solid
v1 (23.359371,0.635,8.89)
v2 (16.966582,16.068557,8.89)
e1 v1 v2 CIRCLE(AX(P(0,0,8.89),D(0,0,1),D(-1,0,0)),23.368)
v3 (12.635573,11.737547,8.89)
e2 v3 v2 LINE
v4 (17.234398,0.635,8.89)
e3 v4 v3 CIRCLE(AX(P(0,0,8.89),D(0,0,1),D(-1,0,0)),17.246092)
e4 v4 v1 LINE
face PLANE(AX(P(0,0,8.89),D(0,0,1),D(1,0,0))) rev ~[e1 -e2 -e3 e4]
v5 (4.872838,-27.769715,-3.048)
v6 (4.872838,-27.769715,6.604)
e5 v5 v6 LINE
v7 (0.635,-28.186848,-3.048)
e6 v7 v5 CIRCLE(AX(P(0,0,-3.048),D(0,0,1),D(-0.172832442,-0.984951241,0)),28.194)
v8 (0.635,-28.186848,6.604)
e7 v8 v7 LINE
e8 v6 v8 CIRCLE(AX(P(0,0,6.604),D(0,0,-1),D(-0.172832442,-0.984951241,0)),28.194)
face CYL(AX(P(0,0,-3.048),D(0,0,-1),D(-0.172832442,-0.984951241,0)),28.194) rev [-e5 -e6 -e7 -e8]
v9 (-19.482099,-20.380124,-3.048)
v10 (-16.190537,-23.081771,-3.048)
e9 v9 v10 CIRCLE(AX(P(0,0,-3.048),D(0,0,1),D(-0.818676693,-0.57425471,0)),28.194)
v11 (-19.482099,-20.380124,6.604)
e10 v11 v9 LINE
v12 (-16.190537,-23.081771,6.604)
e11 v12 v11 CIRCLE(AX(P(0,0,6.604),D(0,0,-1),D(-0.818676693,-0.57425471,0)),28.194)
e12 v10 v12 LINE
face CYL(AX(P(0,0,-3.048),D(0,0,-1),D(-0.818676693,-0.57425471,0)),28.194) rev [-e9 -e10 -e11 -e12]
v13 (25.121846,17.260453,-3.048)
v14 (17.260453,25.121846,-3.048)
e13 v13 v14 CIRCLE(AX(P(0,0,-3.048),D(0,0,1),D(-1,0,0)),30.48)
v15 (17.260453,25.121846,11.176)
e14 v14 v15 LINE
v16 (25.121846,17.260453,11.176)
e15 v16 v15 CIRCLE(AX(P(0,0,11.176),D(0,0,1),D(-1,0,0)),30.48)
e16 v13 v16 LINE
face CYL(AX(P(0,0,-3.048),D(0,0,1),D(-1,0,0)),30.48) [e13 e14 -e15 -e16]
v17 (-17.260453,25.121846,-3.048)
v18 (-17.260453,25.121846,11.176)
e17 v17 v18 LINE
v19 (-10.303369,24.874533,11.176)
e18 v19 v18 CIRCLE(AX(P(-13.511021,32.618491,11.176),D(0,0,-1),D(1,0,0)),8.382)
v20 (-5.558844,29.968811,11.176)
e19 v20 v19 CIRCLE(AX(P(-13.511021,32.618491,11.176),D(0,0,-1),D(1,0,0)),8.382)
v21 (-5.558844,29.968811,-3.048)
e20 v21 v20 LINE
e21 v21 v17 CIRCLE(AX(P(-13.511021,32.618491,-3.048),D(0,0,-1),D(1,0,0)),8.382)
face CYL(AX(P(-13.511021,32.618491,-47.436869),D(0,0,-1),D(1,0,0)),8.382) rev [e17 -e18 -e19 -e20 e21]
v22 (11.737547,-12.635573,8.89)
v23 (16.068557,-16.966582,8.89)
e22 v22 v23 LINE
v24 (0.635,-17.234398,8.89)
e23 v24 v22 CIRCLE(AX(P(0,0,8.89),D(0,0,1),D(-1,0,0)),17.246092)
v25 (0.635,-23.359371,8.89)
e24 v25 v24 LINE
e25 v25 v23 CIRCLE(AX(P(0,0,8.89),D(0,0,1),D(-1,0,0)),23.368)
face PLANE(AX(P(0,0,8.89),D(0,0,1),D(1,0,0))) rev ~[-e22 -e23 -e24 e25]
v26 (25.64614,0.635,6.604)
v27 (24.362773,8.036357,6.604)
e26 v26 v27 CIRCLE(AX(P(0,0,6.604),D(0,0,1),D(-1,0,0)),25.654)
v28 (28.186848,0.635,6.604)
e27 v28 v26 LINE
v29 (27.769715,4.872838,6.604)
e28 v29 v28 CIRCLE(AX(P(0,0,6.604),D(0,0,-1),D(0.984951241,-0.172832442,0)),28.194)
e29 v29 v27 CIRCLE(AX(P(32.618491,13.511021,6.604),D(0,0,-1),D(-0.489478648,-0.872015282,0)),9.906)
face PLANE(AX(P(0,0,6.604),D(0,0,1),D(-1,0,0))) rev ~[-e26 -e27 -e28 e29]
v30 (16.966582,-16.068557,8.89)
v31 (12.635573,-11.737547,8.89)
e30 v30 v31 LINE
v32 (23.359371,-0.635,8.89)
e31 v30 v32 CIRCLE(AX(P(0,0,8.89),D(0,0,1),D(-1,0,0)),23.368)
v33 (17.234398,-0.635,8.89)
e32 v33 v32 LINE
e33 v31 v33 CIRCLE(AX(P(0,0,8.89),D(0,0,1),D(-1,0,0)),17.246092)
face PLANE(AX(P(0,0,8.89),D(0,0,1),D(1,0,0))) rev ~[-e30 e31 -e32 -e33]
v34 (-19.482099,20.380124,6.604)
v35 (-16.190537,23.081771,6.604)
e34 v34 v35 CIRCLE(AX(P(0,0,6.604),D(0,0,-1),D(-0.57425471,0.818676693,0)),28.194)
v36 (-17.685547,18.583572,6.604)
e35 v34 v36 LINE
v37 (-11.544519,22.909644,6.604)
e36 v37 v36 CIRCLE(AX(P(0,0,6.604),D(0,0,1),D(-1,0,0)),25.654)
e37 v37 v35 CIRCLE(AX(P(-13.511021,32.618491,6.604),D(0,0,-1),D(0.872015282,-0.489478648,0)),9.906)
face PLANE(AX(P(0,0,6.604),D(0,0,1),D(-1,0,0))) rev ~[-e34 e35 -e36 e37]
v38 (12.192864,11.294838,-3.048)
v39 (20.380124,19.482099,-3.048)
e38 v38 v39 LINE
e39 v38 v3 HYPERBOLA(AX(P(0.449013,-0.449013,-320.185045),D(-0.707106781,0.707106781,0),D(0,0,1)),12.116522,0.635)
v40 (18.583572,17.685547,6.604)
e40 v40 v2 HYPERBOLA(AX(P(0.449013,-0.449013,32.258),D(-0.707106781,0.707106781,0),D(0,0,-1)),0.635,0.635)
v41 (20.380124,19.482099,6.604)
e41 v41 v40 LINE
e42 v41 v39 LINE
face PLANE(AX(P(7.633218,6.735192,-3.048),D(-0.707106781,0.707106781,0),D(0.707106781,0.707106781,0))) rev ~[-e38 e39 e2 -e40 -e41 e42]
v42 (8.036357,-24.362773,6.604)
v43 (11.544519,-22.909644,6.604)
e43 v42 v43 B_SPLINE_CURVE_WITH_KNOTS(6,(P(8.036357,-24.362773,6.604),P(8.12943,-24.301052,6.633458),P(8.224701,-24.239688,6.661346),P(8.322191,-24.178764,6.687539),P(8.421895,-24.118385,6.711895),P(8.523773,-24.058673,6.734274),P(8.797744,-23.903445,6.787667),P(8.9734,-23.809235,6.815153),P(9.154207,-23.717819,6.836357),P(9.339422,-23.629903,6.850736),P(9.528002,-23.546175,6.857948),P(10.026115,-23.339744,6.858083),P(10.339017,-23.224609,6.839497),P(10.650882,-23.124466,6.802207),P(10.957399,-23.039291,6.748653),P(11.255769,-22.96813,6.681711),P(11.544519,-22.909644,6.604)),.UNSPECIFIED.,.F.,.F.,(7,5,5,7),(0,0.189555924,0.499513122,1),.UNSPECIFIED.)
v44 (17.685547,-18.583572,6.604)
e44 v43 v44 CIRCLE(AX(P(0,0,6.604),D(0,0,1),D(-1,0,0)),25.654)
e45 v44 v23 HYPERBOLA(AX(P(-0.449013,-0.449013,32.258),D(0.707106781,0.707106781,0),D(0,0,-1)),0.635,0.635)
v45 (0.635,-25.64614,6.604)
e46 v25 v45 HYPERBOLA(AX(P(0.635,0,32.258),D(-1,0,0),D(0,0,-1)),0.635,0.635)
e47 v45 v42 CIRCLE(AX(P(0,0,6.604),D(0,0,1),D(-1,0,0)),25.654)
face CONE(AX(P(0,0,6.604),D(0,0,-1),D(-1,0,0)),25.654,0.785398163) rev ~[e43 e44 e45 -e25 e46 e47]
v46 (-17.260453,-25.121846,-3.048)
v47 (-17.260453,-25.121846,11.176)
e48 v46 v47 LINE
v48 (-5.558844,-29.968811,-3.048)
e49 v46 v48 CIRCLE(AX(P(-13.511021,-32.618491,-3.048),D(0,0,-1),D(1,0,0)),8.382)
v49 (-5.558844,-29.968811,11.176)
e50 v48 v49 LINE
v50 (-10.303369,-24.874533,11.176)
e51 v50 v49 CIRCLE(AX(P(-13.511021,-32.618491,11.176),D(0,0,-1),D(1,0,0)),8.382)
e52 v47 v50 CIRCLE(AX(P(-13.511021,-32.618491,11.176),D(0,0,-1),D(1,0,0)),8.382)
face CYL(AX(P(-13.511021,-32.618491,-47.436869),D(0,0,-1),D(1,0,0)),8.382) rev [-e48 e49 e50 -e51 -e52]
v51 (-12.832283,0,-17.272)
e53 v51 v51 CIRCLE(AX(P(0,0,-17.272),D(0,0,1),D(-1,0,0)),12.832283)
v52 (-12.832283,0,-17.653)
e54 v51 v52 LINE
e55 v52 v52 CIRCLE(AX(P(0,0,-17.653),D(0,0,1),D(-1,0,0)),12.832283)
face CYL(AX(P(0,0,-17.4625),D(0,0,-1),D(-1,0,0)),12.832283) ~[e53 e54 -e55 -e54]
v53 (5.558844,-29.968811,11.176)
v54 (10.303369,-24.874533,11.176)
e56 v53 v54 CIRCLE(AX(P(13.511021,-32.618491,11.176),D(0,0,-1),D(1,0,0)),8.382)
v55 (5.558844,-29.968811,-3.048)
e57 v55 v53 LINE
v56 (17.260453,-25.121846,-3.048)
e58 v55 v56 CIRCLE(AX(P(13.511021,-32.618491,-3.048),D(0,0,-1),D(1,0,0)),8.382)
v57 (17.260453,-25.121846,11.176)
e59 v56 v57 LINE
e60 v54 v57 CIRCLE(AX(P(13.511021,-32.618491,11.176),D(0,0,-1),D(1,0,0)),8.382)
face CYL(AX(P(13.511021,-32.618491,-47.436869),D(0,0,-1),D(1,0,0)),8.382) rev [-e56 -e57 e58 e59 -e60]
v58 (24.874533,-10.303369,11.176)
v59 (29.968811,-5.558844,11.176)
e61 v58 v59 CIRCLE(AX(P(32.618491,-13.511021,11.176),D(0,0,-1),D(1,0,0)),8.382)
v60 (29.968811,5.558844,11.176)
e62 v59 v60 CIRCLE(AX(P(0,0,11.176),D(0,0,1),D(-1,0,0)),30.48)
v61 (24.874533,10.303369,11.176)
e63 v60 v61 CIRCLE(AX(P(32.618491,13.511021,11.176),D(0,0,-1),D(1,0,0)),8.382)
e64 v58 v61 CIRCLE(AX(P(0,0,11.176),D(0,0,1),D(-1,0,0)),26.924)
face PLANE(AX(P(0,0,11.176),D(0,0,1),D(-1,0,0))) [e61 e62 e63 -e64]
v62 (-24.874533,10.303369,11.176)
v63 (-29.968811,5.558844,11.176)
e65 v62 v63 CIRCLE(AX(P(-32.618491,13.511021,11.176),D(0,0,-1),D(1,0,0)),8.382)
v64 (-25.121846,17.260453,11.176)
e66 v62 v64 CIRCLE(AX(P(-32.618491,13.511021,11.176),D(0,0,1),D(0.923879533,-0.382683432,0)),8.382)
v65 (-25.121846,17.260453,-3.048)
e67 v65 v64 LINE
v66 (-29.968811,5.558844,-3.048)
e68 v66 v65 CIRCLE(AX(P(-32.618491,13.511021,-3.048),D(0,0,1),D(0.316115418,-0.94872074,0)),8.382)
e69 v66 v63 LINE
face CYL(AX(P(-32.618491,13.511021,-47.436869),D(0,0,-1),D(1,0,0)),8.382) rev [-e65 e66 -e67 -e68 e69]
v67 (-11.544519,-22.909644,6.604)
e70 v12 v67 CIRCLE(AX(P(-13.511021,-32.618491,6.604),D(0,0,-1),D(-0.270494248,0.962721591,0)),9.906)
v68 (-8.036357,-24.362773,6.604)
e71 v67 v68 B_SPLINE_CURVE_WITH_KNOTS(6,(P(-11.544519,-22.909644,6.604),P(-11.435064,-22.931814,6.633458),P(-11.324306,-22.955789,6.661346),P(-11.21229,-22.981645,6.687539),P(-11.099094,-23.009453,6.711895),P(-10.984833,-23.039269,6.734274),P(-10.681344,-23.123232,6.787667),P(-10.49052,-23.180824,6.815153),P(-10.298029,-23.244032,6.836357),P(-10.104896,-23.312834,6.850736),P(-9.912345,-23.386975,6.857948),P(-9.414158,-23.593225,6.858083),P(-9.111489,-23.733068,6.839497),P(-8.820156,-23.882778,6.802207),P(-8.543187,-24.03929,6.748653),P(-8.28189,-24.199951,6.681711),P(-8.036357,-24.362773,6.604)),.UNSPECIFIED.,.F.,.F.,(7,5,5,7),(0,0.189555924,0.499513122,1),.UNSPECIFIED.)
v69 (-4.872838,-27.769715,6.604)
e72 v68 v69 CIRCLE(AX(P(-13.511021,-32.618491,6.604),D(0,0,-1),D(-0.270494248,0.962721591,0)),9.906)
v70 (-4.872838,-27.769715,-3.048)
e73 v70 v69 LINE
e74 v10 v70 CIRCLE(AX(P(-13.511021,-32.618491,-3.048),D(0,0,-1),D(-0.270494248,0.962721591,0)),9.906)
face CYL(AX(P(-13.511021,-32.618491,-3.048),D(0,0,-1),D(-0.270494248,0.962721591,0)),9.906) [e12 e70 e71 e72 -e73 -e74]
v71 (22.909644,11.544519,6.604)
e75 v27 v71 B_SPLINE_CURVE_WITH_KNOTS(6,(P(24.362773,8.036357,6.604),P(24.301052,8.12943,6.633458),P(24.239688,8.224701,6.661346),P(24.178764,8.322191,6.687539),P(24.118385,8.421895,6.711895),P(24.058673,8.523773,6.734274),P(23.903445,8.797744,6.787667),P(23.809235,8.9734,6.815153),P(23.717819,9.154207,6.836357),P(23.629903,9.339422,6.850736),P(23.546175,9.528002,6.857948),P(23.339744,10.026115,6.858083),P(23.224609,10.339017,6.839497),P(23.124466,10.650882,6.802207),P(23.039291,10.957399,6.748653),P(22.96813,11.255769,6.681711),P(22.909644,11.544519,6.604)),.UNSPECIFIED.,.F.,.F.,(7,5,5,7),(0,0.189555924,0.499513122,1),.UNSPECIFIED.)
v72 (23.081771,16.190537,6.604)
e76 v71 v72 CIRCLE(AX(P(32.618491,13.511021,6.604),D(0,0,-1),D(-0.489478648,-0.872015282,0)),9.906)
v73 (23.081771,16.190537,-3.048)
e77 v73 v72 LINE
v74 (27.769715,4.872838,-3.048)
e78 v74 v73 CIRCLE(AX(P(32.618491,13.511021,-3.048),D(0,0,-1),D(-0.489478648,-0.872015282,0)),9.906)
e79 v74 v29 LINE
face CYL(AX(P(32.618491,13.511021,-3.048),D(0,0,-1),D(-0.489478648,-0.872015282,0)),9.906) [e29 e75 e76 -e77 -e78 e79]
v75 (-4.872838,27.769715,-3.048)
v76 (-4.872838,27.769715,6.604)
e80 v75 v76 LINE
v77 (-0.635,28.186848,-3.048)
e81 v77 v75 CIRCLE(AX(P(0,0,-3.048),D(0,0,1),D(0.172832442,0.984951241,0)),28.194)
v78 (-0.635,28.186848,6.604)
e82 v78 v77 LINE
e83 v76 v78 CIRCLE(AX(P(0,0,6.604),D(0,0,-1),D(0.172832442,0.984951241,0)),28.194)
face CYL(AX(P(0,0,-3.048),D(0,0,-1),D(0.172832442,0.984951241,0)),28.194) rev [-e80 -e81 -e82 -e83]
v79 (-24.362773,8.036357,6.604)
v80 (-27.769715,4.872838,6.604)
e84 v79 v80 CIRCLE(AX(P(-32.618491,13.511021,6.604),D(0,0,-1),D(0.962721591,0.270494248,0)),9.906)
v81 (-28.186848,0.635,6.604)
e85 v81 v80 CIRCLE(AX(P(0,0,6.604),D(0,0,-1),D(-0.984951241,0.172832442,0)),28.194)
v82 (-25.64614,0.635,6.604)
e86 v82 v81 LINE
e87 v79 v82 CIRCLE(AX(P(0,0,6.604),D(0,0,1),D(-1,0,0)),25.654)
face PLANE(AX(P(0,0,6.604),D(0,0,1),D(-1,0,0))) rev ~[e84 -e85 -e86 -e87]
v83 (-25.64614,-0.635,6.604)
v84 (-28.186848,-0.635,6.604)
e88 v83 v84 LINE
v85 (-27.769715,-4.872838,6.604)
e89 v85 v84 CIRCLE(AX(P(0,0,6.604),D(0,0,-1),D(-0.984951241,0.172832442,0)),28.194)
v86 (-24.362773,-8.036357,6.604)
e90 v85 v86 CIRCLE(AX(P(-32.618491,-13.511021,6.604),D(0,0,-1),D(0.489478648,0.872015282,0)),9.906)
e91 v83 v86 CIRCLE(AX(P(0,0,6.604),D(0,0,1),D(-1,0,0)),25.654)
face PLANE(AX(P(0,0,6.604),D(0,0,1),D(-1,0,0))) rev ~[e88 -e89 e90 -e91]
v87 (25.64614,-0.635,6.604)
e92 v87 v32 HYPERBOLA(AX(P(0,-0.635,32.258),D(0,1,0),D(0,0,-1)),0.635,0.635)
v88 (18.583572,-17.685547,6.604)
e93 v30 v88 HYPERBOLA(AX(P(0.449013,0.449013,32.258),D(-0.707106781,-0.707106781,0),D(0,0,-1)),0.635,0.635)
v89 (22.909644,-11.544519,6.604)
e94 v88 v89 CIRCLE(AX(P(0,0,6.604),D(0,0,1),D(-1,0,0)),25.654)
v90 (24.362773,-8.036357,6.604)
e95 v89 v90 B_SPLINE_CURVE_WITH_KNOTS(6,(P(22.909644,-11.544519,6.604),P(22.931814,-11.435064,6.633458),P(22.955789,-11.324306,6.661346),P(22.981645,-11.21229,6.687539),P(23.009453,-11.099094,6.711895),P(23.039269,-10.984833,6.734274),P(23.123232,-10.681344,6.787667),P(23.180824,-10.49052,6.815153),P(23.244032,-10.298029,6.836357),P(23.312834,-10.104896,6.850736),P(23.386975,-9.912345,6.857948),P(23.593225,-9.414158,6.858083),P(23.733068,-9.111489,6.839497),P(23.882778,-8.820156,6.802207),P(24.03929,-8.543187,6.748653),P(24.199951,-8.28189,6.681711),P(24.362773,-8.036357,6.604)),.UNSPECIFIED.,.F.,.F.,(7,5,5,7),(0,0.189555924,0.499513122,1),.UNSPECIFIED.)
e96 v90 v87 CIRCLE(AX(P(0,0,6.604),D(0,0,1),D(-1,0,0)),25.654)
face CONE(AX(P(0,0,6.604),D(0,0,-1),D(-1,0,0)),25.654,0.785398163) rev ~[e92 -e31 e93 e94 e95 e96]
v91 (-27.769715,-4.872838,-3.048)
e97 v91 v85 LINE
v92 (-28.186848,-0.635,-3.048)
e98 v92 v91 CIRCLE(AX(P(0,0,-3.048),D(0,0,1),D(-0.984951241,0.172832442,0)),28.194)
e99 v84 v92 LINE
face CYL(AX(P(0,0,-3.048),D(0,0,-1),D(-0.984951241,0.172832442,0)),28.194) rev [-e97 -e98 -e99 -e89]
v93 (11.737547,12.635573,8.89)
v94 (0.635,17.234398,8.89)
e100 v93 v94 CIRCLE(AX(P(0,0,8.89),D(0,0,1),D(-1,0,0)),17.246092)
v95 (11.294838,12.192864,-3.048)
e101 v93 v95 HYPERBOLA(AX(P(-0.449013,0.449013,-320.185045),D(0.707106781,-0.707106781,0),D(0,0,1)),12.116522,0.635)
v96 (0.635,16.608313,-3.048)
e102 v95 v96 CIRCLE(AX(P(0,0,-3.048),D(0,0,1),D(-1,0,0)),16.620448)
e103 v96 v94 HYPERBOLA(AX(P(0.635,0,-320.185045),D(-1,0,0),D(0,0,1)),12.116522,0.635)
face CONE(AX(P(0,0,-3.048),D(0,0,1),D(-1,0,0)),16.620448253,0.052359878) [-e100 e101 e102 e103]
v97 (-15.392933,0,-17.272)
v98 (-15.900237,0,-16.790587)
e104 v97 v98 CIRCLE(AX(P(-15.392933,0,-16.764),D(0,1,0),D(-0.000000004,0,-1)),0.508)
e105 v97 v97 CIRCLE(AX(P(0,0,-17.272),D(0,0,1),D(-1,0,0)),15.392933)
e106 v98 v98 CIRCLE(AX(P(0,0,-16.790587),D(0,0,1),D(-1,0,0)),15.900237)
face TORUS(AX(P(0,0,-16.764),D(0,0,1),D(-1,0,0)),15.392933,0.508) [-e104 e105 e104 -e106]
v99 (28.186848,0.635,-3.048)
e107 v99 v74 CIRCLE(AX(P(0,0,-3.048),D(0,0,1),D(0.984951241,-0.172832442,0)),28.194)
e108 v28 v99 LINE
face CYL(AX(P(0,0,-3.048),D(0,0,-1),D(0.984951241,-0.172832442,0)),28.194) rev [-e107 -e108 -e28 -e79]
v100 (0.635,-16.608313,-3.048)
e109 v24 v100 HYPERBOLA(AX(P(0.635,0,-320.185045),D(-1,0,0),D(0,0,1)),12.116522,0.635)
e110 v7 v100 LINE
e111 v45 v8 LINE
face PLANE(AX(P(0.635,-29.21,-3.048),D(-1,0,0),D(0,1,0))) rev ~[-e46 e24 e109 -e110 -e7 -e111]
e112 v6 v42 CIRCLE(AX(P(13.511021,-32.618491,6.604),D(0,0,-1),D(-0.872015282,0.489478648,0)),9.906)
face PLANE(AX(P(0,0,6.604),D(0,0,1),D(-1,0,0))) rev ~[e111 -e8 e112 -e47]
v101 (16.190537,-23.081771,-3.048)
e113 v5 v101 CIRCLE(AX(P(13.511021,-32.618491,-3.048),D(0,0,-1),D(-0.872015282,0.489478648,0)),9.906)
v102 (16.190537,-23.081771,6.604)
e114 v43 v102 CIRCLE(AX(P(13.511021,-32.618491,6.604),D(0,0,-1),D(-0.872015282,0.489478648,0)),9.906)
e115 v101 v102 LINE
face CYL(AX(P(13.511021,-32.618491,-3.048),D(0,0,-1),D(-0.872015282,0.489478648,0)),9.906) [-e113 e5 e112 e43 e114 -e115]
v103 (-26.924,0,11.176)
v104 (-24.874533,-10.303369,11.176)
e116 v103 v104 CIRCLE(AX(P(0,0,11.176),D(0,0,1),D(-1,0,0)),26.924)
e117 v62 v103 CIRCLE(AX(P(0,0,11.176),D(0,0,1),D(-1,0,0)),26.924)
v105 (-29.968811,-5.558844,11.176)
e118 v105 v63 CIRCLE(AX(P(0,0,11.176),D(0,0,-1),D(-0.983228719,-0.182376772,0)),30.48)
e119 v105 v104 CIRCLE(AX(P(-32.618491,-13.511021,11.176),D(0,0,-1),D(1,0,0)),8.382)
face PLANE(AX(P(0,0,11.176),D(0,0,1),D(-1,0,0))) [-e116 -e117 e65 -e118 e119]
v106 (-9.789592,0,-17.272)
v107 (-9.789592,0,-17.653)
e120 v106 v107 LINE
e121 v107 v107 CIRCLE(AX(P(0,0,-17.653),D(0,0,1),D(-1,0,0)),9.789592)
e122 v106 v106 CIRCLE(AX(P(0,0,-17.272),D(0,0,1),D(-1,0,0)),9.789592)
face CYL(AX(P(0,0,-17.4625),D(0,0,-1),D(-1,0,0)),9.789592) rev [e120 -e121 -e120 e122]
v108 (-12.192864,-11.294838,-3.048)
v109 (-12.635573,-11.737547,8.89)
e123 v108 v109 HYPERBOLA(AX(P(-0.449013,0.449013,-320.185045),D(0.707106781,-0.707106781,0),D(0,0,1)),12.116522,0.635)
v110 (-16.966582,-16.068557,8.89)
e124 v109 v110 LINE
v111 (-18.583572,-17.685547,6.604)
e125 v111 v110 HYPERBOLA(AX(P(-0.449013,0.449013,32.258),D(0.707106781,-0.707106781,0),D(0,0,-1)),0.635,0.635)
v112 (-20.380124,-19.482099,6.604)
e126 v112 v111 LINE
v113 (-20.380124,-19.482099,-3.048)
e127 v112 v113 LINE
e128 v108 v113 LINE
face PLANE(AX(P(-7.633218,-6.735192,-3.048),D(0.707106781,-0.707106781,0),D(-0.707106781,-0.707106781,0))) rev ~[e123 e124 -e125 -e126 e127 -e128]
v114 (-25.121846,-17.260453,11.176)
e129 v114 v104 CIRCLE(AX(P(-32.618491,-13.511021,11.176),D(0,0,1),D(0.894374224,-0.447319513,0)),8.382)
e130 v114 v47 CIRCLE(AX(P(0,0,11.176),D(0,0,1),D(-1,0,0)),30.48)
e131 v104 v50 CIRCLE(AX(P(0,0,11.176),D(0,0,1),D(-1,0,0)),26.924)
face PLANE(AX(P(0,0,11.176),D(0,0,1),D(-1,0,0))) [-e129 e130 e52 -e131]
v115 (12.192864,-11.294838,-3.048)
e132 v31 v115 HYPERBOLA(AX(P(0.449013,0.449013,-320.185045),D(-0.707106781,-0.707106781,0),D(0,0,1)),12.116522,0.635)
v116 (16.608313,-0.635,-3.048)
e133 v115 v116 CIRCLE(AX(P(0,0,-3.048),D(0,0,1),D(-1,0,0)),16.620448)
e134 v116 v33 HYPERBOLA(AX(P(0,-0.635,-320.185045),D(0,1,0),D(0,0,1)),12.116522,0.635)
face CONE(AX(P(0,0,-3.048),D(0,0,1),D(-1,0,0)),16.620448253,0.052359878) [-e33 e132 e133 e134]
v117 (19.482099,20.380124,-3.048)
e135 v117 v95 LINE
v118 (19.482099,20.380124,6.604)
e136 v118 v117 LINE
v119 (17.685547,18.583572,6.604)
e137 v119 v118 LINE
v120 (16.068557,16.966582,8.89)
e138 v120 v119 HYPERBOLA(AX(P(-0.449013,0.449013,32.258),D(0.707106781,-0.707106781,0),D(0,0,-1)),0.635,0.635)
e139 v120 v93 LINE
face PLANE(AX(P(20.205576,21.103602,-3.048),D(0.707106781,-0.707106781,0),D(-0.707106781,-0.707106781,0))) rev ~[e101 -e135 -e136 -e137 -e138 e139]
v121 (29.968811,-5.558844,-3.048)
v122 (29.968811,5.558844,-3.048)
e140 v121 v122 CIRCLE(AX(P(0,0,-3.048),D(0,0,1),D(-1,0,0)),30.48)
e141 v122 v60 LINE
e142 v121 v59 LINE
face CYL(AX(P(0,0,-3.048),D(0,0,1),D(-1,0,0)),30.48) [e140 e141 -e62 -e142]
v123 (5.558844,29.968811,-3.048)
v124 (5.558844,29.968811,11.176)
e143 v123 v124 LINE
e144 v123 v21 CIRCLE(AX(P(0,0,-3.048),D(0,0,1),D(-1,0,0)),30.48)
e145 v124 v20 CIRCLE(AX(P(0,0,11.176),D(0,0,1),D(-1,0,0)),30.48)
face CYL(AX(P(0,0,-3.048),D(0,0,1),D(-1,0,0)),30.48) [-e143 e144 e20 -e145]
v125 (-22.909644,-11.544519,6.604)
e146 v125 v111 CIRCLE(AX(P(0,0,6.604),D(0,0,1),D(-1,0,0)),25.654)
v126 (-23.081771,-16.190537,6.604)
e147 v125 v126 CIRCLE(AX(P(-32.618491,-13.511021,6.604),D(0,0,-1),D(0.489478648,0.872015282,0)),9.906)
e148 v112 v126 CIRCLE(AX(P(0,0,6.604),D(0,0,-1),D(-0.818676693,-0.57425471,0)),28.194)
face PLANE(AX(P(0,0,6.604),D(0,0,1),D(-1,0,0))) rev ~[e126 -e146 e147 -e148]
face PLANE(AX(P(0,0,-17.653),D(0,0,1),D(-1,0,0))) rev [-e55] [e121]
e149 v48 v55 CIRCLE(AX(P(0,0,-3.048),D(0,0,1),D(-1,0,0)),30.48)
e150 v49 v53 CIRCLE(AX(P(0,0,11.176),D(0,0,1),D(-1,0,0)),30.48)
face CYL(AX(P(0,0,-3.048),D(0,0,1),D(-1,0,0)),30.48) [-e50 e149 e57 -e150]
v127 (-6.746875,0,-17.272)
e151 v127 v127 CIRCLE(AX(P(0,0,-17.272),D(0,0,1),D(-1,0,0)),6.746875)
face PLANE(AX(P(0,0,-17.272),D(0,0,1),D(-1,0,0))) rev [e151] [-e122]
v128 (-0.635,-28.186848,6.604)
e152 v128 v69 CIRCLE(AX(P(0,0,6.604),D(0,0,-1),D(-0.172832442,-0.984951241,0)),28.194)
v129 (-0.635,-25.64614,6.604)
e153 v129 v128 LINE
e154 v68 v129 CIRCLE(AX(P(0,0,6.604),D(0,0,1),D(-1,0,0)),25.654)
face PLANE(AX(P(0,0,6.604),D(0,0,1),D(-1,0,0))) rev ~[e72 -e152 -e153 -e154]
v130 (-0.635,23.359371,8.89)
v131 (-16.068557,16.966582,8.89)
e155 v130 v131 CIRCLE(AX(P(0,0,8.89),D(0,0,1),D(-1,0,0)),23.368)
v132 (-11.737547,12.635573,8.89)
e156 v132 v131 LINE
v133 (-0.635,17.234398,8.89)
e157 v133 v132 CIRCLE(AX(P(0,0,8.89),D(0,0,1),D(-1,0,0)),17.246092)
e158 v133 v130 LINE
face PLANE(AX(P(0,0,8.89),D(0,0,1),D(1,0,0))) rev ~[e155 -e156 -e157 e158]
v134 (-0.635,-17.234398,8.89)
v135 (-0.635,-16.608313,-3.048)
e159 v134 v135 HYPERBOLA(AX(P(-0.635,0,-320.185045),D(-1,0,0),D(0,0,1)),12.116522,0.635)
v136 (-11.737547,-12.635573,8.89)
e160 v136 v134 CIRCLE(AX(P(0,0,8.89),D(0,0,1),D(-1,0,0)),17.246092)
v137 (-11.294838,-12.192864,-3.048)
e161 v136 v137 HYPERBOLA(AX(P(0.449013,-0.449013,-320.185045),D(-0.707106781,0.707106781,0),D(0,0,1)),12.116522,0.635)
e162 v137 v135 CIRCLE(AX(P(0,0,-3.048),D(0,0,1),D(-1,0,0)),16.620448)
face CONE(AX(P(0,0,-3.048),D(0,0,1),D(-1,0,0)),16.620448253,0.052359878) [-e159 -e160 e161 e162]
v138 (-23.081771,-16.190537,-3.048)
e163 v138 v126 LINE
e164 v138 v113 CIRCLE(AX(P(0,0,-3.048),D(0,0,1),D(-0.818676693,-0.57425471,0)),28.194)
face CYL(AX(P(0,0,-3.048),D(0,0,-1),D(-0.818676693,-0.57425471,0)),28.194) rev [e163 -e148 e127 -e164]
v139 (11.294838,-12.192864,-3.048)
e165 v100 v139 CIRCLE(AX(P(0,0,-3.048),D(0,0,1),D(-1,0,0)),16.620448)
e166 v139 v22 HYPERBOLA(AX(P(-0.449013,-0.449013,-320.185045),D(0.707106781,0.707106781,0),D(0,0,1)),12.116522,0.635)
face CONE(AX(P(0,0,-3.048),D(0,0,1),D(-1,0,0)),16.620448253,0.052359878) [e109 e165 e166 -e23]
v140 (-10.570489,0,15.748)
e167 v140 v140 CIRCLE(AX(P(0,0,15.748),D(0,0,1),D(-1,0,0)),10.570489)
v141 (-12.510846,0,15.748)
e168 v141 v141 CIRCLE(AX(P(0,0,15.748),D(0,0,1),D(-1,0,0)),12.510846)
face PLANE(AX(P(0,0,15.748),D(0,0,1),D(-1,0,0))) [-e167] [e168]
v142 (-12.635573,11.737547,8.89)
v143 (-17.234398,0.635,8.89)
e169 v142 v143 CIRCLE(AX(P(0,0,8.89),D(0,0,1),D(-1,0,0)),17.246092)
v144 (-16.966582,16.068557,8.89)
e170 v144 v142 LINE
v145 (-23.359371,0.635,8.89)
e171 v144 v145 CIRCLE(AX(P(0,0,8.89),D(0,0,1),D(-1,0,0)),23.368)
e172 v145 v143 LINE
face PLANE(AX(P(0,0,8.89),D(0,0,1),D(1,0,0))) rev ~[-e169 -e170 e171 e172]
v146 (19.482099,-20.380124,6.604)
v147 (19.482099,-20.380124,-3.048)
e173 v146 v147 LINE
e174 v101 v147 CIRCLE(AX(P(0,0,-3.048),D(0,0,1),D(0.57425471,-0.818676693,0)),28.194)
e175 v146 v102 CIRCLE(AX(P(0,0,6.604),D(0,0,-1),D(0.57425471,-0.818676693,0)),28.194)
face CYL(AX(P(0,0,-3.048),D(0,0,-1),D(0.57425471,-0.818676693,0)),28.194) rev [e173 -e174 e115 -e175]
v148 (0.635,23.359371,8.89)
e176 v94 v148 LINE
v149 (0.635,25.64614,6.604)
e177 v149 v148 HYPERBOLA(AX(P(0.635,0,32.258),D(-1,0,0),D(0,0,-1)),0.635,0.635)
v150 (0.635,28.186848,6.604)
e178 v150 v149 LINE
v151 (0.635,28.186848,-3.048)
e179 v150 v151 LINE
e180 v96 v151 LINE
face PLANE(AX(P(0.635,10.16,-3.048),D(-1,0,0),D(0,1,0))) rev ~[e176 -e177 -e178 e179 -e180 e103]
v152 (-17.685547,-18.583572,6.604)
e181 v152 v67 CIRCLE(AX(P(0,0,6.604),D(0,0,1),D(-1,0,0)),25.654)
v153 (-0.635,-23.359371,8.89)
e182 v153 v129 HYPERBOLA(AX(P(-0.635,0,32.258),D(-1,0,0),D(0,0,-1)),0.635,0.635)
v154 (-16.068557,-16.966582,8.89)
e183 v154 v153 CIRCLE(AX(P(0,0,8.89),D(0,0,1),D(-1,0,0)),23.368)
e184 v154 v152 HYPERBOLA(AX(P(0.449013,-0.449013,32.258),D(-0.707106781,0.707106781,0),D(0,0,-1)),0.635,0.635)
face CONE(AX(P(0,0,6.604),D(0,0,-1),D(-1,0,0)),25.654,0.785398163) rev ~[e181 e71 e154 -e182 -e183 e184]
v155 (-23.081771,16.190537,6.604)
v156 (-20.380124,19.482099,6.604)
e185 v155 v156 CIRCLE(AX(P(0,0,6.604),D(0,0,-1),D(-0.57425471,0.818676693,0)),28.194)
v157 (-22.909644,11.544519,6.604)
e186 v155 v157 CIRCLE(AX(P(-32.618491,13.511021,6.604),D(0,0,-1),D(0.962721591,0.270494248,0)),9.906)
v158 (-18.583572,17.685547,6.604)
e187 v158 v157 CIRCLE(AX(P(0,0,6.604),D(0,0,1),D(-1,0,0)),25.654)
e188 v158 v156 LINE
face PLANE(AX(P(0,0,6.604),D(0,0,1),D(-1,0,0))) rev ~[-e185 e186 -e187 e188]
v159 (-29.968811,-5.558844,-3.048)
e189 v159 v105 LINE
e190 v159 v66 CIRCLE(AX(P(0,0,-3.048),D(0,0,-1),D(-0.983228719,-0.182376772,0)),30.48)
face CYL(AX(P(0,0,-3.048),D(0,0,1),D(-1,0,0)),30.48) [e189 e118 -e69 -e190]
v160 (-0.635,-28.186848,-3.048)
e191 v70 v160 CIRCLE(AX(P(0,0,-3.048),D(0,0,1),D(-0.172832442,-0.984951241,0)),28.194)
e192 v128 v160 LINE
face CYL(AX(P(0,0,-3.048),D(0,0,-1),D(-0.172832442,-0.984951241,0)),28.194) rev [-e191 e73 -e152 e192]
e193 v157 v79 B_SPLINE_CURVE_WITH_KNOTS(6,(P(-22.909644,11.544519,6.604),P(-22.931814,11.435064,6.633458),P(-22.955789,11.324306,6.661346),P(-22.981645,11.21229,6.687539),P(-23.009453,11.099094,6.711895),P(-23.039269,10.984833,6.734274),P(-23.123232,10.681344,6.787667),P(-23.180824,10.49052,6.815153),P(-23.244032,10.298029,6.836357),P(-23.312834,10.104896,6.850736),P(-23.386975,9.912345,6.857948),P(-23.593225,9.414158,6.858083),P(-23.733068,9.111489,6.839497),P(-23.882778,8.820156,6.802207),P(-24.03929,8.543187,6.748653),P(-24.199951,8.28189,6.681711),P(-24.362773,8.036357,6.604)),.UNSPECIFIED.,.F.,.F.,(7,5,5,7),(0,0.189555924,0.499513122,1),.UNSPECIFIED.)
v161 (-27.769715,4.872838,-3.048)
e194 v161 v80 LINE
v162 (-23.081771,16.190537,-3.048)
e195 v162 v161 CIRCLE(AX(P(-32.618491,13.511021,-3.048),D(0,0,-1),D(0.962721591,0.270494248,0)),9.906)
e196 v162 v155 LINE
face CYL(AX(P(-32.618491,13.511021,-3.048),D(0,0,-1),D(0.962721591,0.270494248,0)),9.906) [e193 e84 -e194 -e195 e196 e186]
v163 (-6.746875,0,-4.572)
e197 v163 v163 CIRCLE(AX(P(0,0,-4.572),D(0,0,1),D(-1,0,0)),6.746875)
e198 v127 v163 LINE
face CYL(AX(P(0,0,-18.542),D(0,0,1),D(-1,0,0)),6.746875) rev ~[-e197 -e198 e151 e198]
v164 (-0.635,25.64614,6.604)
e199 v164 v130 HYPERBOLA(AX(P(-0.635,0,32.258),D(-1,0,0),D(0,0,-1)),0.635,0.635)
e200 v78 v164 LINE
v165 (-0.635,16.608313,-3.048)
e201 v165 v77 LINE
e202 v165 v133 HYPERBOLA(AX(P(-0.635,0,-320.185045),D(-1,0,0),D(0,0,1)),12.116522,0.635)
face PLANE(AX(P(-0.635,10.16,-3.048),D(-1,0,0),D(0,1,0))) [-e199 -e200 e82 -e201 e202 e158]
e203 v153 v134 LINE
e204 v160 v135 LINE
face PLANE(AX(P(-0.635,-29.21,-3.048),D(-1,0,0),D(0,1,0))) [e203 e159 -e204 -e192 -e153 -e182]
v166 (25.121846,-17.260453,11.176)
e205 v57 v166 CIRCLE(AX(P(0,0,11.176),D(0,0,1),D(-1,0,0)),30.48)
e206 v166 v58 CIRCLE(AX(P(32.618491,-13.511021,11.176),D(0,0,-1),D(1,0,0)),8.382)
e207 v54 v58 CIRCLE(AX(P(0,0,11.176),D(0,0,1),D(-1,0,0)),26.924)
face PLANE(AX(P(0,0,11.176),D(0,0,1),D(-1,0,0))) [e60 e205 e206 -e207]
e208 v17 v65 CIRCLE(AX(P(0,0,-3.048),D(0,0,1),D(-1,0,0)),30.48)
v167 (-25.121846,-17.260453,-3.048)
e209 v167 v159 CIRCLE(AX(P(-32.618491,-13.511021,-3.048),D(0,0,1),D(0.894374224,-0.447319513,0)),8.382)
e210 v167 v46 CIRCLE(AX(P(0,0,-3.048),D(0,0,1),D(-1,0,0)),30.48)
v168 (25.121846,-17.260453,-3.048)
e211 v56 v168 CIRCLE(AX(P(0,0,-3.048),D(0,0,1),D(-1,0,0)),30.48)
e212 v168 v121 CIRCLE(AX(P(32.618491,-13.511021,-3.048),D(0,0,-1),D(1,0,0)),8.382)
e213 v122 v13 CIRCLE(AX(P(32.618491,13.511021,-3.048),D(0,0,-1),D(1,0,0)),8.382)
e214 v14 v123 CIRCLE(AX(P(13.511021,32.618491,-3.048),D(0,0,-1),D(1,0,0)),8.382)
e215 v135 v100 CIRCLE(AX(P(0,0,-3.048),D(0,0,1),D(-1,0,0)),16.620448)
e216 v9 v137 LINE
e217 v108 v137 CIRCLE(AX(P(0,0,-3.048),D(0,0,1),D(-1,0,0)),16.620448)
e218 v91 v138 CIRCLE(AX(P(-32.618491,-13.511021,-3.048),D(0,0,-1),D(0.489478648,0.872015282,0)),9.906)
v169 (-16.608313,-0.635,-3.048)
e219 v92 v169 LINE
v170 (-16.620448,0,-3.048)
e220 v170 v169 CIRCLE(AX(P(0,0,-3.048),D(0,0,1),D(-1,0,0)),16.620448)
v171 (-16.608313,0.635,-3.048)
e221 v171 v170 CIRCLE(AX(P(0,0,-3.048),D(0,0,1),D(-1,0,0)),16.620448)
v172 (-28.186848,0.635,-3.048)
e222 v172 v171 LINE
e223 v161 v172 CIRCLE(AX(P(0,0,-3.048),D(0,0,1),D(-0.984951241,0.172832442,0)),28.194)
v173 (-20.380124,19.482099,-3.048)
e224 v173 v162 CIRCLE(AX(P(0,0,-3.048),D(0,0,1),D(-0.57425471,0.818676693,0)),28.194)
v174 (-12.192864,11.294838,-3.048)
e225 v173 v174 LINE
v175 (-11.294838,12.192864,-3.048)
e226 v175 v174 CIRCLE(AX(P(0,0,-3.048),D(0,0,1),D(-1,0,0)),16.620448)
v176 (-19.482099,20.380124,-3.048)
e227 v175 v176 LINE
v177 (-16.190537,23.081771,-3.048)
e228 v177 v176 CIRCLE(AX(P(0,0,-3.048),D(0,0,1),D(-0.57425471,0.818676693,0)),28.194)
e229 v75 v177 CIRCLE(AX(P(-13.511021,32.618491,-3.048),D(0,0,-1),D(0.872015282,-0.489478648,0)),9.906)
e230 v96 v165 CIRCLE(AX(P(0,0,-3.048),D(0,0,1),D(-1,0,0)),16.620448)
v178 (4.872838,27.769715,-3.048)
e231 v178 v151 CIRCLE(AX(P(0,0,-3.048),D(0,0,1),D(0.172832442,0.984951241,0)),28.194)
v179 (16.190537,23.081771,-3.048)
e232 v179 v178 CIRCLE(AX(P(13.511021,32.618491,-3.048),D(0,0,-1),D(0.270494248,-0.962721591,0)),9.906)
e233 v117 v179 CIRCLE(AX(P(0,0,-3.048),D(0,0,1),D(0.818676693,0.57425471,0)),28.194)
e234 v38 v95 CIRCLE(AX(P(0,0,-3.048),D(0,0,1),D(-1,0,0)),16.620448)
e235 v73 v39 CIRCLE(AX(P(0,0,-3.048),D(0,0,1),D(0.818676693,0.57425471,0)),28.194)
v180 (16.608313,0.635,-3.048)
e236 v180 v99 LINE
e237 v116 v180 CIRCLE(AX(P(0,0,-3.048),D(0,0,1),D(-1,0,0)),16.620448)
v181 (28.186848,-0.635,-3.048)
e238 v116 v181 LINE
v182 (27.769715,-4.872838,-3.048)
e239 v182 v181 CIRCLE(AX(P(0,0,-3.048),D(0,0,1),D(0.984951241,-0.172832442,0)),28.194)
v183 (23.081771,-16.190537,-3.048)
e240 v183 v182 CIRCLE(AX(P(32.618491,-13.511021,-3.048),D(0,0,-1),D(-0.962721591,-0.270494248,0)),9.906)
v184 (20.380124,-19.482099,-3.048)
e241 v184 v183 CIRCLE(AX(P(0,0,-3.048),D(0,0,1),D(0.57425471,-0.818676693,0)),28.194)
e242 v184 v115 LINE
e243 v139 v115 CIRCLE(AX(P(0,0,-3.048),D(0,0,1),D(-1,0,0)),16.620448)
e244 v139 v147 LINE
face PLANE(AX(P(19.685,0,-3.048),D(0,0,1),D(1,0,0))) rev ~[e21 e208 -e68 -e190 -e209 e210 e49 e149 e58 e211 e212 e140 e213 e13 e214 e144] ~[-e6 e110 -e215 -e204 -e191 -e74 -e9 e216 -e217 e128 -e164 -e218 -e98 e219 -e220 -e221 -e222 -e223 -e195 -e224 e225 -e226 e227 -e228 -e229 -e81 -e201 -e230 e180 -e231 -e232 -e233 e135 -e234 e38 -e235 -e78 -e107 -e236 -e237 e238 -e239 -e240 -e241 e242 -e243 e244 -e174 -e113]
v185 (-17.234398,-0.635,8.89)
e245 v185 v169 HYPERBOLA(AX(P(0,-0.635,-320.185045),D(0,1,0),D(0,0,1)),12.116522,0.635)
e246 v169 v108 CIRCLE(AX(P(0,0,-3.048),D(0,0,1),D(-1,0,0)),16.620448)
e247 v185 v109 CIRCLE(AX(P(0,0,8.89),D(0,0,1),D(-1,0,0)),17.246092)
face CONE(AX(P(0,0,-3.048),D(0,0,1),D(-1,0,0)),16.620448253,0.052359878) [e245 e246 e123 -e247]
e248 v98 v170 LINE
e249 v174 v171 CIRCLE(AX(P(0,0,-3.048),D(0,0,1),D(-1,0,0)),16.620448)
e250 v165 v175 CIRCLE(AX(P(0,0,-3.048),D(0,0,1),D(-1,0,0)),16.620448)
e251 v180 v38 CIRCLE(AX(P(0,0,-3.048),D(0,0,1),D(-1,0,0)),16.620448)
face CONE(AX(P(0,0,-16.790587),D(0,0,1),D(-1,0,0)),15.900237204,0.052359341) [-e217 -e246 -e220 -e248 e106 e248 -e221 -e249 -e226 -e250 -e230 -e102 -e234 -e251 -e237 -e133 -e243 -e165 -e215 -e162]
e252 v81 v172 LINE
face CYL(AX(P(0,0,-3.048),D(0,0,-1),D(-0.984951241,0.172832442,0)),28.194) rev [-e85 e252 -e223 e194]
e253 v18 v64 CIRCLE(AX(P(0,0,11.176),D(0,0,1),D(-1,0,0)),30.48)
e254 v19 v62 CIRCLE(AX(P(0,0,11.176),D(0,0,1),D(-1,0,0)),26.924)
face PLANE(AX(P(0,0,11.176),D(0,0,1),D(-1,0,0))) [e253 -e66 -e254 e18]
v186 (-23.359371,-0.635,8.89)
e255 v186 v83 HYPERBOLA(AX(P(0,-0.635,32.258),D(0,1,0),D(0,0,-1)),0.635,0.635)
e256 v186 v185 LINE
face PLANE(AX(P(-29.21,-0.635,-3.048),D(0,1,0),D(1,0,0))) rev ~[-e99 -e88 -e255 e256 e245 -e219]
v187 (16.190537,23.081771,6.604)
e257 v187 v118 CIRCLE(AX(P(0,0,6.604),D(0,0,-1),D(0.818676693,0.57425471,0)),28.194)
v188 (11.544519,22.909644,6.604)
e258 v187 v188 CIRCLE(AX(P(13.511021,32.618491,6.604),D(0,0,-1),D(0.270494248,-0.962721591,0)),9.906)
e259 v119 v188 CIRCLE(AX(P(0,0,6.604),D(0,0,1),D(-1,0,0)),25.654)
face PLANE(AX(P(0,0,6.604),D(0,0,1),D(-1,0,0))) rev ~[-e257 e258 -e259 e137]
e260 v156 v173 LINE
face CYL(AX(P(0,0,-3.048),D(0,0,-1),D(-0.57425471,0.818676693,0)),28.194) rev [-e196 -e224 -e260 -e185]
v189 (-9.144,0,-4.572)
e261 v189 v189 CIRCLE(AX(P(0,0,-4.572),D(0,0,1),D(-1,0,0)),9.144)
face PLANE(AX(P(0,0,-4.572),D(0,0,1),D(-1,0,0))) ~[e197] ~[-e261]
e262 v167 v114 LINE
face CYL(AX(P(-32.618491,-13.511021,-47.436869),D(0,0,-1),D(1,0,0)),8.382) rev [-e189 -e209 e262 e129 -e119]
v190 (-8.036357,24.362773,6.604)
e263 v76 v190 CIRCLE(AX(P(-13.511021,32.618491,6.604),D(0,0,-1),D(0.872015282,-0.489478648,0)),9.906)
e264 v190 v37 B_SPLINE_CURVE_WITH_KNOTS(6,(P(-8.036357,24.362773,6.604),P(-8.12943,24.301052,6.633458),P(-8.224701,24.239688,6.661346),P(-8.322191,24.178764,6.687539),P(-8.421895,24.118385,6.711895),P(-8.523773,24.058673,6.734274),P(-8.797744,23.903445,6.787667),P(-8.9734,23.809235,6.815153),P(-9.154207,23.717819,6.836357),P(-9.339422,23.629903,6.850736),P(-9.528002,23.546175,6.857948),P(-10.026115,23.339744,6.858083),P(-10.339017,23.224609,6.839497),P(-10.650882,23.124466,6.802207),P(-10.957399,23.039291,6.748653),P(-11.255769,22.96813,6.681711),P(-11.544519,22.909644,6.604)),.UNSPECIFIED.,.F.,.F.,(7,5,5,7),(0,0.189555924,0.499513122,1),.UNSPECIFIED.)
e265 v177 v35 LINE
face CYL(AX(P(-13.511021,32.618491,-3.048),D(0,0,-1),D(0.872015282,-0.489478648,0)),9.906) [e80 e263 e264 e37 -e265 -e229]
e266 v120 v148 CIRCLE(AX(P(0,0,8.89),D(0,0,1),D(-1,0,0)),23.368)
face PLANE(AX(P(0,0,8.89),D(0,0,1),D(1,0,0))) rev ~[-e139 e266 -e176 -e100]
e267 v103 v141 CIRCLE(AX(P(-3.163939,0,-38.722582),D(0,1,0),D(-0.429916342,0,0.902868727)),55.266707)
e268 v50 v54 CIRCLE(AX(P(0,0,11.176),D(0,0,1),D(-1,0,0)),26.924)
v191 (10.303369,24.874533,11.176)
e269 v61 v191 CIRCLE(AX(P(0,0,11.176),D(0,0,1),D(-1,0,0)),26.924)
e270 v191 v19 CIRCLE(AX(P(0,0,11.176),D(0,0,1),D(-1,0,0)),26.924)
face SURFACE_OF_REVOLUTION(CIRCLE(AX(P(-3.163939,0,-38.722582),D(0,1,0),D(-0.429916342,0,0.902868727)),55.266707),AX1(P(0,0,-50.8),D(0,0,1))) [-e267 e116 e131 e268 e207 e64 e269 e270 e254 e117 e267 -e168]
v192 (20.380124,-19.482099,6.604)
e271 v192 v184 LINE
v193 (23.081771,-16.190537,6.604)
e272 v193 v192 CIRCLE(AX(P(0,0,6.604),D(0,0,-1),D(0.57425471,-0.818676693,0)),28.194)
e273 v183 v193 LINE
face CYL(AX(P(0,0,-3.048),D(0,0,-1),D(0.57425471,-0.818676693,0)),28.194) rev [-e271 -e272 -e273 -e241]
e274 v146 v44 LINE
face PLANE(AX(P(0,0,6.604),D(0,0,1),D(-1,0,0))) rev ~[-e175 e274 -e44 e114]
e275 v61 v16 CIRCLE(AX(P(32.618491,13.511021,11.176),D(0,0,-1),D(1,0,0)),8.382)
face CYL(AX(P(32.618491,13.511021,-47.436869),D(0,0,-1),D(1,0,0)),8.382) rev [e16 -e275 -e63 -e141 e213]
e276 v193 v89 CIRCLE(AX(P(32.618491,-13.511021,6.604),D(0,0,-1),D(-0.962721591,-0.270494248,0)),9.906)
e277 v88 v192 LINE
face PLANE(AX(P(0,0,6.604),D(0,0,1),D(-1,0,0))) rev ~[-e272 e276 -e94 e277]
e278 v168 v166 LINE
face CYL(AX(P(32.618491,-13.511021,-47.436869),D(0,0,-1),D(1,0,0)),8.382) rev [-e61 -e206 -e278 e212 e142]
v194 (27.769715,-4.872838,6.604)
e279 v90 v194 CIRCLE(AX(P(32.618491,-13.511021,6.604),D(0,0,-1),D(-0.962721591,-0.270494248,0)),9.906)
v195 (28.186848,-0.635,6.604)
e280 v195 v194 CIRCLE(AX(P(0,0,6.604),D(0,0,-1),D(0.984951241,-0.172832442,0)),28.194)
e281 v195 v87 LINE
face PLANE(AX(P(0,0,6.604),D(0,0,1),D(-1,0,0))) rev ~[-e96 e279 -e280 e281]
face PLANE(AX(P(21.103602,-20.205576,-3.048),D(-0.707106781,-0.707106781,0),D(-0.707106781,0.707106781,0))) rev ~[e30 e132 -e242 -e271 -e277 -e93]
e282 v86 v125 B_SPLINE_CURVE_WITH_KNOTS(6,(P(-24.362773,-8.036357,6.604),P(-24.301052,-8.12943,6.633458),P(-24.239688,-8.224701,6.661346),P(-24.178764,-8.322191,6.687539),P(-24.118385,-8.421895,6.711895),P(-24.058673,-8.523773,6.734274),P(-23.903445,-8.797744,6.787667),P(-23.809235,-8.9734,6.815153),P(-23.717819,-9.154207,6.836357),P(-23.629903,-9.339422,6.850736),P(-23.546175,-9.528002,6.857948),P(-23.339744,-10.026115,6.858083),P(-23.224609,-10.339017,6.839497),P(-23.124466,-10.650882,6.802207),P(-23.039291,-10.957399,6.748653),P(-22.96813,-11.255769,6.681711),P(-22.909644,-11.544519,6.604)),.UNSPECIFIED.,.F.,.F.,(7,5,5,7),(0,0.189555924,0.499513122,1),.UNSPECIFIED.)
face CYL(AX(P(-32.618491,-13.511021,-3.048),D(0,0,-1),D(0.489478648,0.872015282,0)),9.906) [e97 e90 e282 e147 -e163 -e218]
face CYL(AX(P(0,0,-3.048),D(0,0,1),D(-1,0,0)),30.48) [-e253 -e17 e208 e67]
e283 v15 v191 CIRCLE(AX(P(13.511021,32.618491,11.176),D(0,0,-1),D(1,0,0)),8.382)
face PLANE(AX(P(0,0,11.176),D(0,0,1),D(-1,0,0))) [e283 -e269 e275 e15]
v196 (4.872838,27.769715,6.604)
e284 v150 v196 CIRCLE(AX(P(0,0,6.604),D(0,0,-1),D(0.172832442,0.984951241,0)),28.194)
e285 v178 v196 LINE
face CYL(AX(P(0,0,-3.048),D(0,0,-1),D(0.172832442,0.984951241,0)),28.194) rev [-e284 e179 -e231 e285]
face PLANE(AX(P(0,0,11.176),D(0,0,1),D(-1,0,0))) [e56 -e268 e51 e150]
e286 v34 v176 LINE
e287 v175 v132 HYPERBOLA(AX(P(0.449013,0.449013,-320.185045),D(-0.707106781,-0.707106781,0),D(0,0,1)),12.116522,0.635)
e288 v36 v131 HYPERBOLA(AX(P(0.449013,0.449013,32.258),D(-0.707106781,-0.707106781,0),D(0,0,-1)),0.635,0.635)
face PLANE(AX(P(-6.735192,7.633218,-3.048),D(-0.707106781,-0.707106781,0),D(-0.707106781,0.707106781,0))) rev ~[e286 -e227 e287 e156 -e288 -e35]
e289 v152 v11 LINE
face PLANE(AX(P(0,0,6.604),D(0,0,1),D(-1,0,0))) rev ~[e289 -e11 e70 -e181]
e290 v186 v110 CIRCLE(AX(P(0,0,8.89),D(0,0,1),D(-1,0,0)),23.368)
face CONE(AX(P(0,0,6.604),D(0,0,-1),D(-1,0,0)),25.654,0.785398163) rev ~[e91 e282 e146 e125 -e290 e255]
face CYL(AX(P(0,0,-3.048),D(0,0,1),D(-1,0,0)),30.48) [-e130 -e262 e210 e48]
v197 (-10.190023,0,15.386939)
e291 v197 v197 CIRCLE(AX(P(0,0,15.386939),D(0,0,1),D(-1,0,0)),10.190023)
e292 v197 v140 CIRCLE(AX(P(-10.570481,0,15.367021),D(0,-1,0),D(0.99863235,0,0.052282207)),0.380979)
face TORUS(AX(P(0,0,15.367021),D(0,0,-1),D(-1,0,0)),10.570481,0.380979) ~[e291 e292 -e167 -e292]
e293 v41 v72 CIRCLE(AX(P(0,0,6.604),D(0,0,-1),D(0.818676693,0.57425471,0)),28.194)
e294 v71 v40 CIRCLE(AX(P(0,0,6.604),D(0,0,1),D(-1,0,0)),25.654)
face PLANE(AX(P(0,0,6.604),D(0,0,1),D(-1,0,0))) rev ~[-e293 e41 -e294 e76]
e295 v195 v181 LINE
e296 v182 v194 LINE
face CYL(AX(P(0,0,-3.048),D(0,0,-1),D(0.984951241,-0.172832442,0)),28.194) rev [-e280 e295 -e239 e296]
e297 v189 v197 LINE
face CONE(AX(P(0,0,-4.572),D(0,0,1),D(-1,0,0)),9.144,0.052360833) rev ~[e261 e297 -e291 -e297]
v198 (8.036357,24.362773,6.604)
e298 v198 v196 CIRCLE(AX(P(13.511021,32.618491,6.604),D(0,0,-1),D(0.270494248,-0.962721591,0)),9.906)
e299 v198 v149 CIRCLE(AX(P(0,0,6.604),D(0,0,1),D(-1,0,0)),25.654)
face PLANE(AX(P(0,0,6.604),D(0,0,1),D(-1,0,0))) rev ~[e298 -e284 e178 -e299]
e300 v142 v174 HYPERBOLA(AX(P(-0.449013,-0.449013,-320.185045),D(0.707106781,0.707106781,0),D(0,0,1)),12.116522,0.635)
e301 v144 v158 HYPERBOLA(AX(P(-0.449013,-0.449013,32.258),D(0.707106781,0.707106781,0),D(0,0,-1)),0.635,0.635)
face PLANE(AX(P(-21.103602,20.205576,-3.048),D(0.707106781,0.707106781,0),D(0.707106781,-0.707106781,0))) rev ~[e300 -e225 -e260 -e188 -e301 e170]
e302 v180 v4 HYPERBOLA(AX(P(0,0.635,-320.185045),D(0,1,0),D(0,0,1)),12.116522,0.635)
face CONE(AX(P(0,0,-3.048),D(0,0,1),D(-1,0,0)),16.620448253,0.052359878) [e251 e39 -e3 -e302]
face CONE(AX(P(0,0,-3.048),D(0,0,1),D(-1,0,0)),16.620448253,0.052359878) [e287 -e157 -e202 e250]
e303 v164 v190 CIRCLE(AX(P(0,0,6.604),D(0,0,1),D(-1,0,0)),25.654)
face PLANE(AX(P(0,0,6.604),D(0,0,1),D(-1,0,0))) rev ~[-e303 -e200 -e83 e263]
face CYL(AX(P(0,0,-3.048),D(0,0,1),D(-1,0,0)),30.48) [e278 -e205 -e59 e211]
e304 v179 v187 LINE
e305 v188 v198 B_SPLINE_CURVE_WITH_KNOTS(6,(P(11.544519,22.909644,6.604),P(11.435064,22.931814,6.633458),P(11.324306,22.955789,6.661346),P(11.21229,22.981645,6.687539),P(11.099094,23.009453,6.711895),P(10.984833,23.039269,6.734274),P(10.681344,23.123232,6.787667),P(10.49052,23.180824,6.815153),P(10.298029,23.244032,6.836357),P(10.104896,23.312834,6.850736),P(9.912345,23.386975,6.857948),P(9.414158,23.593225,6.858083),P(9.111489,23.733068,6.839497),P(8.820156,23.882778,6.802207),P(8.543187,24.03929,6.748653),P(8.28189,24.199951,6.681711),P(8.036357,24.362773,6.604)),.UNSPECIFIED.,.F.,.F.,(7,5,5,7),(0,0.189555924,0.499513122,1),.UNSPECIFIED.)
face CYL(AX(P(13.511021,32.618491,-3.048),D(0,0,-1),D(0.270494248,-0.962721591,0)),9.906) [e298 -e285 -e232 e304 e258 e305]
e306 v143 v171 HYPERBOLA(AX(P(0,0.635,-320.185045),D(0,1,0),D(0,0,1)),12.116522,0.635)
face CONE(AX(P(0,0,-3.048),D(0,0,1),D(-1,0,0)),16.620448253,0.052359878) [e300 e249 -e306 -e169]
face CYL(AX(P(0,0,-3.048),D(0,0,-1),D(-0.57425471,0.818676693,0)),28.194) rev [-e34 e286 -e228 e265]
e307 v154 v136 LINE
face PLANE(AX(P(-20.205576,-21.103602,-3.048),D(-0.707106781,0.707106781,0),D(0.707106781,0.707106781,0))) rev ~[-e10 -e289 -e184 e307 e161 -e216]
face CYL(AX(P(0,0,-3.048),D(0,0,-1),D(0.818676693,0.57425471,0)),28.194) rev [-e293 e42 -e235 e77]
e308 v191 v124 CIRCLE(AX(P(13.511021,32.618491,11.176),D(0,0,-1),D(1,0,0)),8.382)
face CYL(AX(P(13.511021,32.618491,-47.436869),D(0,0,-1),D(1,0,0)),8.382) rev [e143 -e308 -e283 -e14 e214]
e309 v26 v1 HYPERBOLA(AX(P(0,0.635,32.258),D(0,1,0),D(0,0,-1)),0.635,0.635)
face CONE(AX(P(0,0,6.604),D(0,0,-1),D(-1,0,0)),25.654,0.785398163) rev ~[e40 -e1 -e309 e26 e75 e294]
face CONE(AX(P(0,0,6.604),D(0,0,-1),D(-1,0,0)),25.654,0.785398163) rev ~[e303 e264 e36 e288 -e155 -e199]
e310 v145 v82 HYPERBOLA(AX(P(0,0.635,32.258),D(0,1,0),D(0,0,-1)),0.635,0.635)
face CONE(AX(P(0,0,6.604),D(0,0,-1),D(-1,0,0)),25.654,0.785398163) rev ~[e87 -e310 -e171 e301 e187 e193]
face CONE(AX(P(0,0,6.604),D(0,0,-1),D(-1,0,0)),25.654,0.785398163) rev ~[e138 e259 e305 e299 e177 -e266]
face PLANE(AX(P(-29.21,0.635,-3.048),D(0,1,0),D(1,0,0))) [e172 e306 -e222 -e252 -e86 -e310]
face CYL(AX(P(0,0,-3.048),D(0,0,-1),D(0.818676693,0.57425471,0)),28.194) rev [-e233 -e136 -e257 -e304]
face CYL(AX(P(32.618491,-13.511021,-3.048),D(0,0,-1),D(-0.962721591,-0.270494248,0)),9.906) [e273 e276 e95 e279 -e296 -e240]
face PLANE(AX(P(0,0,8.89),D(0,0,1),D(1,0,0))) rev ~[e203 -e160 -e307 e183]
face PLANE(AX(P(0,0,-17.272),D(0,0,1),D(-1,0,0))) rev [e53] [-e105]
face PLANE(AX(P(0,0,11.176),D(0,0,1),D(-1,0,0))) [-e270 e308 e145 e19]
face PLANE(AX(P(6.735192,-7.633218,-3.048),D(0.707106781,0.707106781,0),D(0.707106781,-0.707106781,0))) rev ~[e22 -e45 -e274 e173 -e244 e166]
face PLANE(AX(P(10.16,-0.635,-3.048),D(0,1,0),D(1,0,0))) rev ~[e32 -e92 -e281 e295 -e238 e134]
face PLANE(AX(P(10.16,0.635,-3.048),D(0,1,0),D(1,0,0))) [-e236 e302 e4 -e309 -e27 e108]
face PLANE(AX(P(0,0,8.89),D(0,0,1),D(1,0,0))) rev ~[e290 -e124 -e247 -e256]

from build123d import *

# Parameters (mm, degrees)
C3A_CAVITYPRISM_DEPTH  = 11.938
SK_C3_RIBS_W           = 19.05
SK_C3_RIBS_H           = 1.27
SK_C3_RIBS_W_2         = 1.27
SK_C3_RIBS_H_2         = 19.05
C3D_RIBS_DEPTH         = 11.938
C2_SCALLOPS_DEPTH      = 47.436868801
C2_SCALLOPS_DEPTH_BACK = 47.436868801
SK_C2_SCALLOPS_R       = 8.382
SK_C5_RIDGE_W          = 3.0426914
SK_C5_RIDGE_H          = 0.381


with BuildPart() as part:
    # SK_C1_profile → C1_MainRevolve (revolve)
    with BuildSketch(Plane(origin=(0, 0, 0), x_dir=(1, 0, 0), z_dir=(0, 1, 0)), mode=Mode.PRIVATE) as c1_mainrevolve_sk:
        with BuildLine():
            Line((0, 17.272), (15.3929334, 17.272))
            ThreePointArc((15.3929334, 17.272), (15.742617524, 17.13249018), (15.900237204, 16.790586666))
            Line((15.900237204, 16.790586666), (16.620448253, 3.048))
            Line((16.620448253, 3.048), (30.48, 3.048))
            Line((30.48, 3.048), (30.48, -11.176))
            Line((30.48, -11.176), (26.924, -11.176))
            ThreePointArc((26.924, -11.176), (19.874523429, -13.957256168), (12.5108462, -15.748))
            Line((12.5108462, -15.748), (0, -15.748))
            Line((0, -15.748), (0, 17.272))
        make_face()
    revolve(c1_mainrevolve_sk.sketch.rotate(Axis((0, 0, -50.8), (0, 0, 1)), 180), axis=Axis((0, 0, -50.8), (0, 0, 1)))

    # SK_C3_Lci → C3a_CavityPrism (cut)
    with BuildSketch(Plane.XY.offset(-3.048)):
        with BuildLine():
            ThreePointArc((27.769715286, -4.872837874), (28.194, 0), (27.769715286, 4.872837874))
            ThreePointArc((27.769715286, 4.872837874), (23.466540126, 9.720159182), (23.081770695, 16.190537286))
            ThreePointArc((23.081770695, 16.190537286), (19.936168589, 19.936168589), (16.190537286, 23.081770695))
            ThreePointArc((16.190537286, 23.081770695), (9.720159182, 23.466540126), (4.872837874, 27.769715286))
            ThreePointArc((4.872837874, 27.769715286), (0, 28.194), (-4.872837874, 27.769715286))
            ThreePointArc((-4.872837874, 27.769715286), (-9.720159182, 23.466540126), (-16.190537286, 23.081770695))
            ThreePointArc((-16.190537286, 23.081770695), (-19.936168589, 19.936168589), (-23.081770695, 16.190537286))
            ThreePointArc((-23.081770695, 16.190537286), (-23.466540126, 9.720159182), (-27.769715286, 4.872837874))
            ThreePointArc((-27.769715286, 4.872837874), (-28.194, 0), (-27.769715286, -4.872837874))
            ThreePointArc((-27.769715286, -4.872837874), (-23.466540126, -9.720159182), (-23.081770695, -16.190537286))
            ThreePointArc((-23.081770695, -16.190537286), (-19.936168589, -19.936168589), (-16.190537286, -23.081770695))
            ThreePointArc((-16.190537286, -23.081770695), (-9.720159182, -23.466540126), (-4.872837874, -27.769715286))
            ThreePointArc((-4.872837874, -27.769715286), (0, -28.194), (4.872837874, -27.769715286))
            ThreePointArc((4.872837874, -27.769715286), (9.720159182, -23.466540126), (16.190537286, -23.081770695))
            ThreePointArc((16.190537286, -23.081770695), (19.936168589, -19.936168589), (23.081770695, -16.190537286))
            ThreePointArc((23.081770695, -16.190537286), (23.466540126, -9.720159182), (27.769715286, -4.872837874))
        make_face()
    extrude(amount=C3A_CAVITYPRISM_DEPTH, mode=Mode.SUBTRACT)


with BuildPart() as c3a_cavityprism_piece_1:
    # of the separate pieces the step leaves, piece 1, a body of its own (c3a_cavityprism_pieces)
    add(part.part.solids().sort_by_distance((-30.48, 0, -3.048))[0])

    # SK_C3_ceiling → C3b_CeilingRing (revolve)
    with BuildSketch(Plane(origin=(0, 0, 0), x_dir=(1, 0, 0), z_dir=(0, 1, 0)), mode=Mode.PRIVATE) as c3b_ceilingring_sk:
        Polygon((25.654, -6.604), (23.368, -8.89), (30.48, -8.89), (30.48, -6.604), align=None)
    revolve(c3b_ceilingring_sk.sketch.rotate(Axis((0, 0, -50.8), (0, 0, 1)), 180), axis=Axis((0, 0, -50.8), (0, 0, 1)))



with BuildPart() as c3a_cavityprism_piece_2:
    # of the separate pieces the step leaves, piece 2, a body of its own (c3a_cavityprism_pieces)
    add(part.part.solids().sort_by_distance((-15.3929334, 0, -17.272))[0])


with BuildPart() as c3a_cavityprism_piece_1_1:
    add(c3a_cavityprism_piece_1.part)

    add(c3a_cavityprism_piece_2.part)  # C3c_HubUp merges C3a_CavityPrism piece 2
    # SK_C3_hub → C3c_HubUp (revolve)
    with BuildSketch(Plane(origin=(0, 0, 0), x_dir=(1, 0, 0), z_dir=(0, 1, 0)), mode=Mode.PRIVATE) as c3c_hubup_sk:
        Polygon((0, 3.048), (16.620448253, 3.048), (17.246092322, -8.89), (0, -8.89), align=None)
    revolve(c3c_hubup_sk.sketch.rotate(Axis((0, 0, -50.8), (0, 0, 1)), 180), axis=Axis((0, 0, -50.8), (0, 0, 1)))

    # SK_C3_ribs → C3d_Ribs (add)
    with BuildSketch(Plane.XY.offset(-3.048)):
        with Locations((19.685, 0)):
            Rectangle(SK_C3_RIBS_W, SK_C3_RIBS_H)
        Polygon((7.633217703, 6.735192091), (21.103601885, 20.205576272), (20.205576272, 21.103601885), (6.735192091, 7.633217703), align=None)
        with Locations((0, 19.685)):
            Rectangle(SK_C3_RIBS_W_2, SK_C3_RIBS_H_2)
        Polygon((-6.735192091, 7.633217703), (-20.205576272, 21.103601885), (-21.103601885, 20.205576272), (-7.633217703, 6.735192091), align=None)
        with Locations((-19.685, 0)):
            Rectangle(SK_C3_RIBS_W, SK_C3_RIBS_H)
        Polygon((-7.633217703, -6.735192091), (-21.103601885, -20.205576272), (-20.205576272, -21.103601885), (-6.735192091, -7.633217703), align=None)
        with Locations((0, -19.685)):
            Rectangle(SK_C3_RIBS_W_2, SK_C3_RIBS_H_2)
        Polygon((6.735192091, -7.633217703), (20.205576272, -21.103601885), (21.103601885, -20.205576272), (7.633217703, -6.735192091), align=None)
    extrude(amount=C3D_RIBS_DEPTH)

    # SK_C2_scallops → C2_Scallops (cut, two sides: drawn at the far end of the back side and taken through both)
    with BuildSketch(Plane.XY.offset(-C2_SCALLOPS_DEPTH_BACK)):
        with Locations((32.618490775, 13.511021263)):
            Circle(SK_C2_SCALLOPS_R)
        with Locations((13.511021263, 32.618490775)):
            Circle(SK_C2_SCALLOPS_R)
        with Locations((-13.511021263, 32.618490775)):
            Circle(SK_C2_SCALLOPS_R)
        with Locations((-32.618490775, 13.511021263)):
            Circle(SK_C2_SCALLOPS_R)
        with Locations((-32.618490775, -13.511021263)):
            Circle(SK_C2_SCALLOPS_R)
        with Locations((-13.511021263, -32.618490775)):
            Circle(SK_C2_SCALLOPS_R)
        with Locations((13.511021263, -32.618490775)):
            Circle(SK_C2_SCALLOPS_R)
        with Locations((32.618490775, -13.511021263)):
            Circle(SK_C2_SCALLOPS_R)
    extrude(amount=C2_SCALLOPS_DEPTH + C2_SCALLOPS_DEPTH_BACK, mode=Mode.SUBTRACT)

    # SK_C4_bore → C4_Bore (revolve, cut)
    with BuildSketch(Plane(origin=(0, 0, 0), x_dir=(1, 0, 0), z_dir=(0, 1, 0)), mode=Mode.PRIVATE) as c4_bore_sk:
        with BuildLine():
            Line((0, 18.542), (6.746875, 18.542))
            Line((6.746875, 18.542), (6.746875, 4.572))
            Line((6.746875, 4.572), (9.144, 4.572))
            Line((9.144, 4.572), (10.1900228, -15.386939))
            ThreePointArc((10.1900228, -15.386939), (10.308227792, -15.643369045), (10.5704894, -15.748))
            Line((10.5704894, -15.748), (10.5704894, -18.288))
            Line((10.5704894, -18.288), (0, -18.288))
            Line((0, -18.288), (0, 18.542))
        make_face()
    revolve(c4_bore_sk.sketch.rotate(Axis((0, 0, -50.8), (0, 0, 1)), 180), axis=Axis((0, 0, -50.8), (0, 0, 1)), mode=Mode.SUBTRACT)

    # SK_C5_ridge → C5_Ridge (revolve)
    with BuildSketch(Plane(origin=(0, 0, 0), x_dir=(1, 0, 0), z_dir=(0, 1, 0)), mode=Mode.PRIVATE) as c5_ridge_sk:
        with Locations((11.3109375, 17.4625)):
            Rectangle(SK_C5_RIDGE_W, SK_C5_RIDGE_H)
    revolve(c5_ridge_sk.sketch.rotate(Axis((0, 0, -50.8), (0, 0, 1)), 180), axis=Axis((0, 0, -50.8), (0, 0, 1)))


solid = c3a_cavityprism_piece_1_1.part
